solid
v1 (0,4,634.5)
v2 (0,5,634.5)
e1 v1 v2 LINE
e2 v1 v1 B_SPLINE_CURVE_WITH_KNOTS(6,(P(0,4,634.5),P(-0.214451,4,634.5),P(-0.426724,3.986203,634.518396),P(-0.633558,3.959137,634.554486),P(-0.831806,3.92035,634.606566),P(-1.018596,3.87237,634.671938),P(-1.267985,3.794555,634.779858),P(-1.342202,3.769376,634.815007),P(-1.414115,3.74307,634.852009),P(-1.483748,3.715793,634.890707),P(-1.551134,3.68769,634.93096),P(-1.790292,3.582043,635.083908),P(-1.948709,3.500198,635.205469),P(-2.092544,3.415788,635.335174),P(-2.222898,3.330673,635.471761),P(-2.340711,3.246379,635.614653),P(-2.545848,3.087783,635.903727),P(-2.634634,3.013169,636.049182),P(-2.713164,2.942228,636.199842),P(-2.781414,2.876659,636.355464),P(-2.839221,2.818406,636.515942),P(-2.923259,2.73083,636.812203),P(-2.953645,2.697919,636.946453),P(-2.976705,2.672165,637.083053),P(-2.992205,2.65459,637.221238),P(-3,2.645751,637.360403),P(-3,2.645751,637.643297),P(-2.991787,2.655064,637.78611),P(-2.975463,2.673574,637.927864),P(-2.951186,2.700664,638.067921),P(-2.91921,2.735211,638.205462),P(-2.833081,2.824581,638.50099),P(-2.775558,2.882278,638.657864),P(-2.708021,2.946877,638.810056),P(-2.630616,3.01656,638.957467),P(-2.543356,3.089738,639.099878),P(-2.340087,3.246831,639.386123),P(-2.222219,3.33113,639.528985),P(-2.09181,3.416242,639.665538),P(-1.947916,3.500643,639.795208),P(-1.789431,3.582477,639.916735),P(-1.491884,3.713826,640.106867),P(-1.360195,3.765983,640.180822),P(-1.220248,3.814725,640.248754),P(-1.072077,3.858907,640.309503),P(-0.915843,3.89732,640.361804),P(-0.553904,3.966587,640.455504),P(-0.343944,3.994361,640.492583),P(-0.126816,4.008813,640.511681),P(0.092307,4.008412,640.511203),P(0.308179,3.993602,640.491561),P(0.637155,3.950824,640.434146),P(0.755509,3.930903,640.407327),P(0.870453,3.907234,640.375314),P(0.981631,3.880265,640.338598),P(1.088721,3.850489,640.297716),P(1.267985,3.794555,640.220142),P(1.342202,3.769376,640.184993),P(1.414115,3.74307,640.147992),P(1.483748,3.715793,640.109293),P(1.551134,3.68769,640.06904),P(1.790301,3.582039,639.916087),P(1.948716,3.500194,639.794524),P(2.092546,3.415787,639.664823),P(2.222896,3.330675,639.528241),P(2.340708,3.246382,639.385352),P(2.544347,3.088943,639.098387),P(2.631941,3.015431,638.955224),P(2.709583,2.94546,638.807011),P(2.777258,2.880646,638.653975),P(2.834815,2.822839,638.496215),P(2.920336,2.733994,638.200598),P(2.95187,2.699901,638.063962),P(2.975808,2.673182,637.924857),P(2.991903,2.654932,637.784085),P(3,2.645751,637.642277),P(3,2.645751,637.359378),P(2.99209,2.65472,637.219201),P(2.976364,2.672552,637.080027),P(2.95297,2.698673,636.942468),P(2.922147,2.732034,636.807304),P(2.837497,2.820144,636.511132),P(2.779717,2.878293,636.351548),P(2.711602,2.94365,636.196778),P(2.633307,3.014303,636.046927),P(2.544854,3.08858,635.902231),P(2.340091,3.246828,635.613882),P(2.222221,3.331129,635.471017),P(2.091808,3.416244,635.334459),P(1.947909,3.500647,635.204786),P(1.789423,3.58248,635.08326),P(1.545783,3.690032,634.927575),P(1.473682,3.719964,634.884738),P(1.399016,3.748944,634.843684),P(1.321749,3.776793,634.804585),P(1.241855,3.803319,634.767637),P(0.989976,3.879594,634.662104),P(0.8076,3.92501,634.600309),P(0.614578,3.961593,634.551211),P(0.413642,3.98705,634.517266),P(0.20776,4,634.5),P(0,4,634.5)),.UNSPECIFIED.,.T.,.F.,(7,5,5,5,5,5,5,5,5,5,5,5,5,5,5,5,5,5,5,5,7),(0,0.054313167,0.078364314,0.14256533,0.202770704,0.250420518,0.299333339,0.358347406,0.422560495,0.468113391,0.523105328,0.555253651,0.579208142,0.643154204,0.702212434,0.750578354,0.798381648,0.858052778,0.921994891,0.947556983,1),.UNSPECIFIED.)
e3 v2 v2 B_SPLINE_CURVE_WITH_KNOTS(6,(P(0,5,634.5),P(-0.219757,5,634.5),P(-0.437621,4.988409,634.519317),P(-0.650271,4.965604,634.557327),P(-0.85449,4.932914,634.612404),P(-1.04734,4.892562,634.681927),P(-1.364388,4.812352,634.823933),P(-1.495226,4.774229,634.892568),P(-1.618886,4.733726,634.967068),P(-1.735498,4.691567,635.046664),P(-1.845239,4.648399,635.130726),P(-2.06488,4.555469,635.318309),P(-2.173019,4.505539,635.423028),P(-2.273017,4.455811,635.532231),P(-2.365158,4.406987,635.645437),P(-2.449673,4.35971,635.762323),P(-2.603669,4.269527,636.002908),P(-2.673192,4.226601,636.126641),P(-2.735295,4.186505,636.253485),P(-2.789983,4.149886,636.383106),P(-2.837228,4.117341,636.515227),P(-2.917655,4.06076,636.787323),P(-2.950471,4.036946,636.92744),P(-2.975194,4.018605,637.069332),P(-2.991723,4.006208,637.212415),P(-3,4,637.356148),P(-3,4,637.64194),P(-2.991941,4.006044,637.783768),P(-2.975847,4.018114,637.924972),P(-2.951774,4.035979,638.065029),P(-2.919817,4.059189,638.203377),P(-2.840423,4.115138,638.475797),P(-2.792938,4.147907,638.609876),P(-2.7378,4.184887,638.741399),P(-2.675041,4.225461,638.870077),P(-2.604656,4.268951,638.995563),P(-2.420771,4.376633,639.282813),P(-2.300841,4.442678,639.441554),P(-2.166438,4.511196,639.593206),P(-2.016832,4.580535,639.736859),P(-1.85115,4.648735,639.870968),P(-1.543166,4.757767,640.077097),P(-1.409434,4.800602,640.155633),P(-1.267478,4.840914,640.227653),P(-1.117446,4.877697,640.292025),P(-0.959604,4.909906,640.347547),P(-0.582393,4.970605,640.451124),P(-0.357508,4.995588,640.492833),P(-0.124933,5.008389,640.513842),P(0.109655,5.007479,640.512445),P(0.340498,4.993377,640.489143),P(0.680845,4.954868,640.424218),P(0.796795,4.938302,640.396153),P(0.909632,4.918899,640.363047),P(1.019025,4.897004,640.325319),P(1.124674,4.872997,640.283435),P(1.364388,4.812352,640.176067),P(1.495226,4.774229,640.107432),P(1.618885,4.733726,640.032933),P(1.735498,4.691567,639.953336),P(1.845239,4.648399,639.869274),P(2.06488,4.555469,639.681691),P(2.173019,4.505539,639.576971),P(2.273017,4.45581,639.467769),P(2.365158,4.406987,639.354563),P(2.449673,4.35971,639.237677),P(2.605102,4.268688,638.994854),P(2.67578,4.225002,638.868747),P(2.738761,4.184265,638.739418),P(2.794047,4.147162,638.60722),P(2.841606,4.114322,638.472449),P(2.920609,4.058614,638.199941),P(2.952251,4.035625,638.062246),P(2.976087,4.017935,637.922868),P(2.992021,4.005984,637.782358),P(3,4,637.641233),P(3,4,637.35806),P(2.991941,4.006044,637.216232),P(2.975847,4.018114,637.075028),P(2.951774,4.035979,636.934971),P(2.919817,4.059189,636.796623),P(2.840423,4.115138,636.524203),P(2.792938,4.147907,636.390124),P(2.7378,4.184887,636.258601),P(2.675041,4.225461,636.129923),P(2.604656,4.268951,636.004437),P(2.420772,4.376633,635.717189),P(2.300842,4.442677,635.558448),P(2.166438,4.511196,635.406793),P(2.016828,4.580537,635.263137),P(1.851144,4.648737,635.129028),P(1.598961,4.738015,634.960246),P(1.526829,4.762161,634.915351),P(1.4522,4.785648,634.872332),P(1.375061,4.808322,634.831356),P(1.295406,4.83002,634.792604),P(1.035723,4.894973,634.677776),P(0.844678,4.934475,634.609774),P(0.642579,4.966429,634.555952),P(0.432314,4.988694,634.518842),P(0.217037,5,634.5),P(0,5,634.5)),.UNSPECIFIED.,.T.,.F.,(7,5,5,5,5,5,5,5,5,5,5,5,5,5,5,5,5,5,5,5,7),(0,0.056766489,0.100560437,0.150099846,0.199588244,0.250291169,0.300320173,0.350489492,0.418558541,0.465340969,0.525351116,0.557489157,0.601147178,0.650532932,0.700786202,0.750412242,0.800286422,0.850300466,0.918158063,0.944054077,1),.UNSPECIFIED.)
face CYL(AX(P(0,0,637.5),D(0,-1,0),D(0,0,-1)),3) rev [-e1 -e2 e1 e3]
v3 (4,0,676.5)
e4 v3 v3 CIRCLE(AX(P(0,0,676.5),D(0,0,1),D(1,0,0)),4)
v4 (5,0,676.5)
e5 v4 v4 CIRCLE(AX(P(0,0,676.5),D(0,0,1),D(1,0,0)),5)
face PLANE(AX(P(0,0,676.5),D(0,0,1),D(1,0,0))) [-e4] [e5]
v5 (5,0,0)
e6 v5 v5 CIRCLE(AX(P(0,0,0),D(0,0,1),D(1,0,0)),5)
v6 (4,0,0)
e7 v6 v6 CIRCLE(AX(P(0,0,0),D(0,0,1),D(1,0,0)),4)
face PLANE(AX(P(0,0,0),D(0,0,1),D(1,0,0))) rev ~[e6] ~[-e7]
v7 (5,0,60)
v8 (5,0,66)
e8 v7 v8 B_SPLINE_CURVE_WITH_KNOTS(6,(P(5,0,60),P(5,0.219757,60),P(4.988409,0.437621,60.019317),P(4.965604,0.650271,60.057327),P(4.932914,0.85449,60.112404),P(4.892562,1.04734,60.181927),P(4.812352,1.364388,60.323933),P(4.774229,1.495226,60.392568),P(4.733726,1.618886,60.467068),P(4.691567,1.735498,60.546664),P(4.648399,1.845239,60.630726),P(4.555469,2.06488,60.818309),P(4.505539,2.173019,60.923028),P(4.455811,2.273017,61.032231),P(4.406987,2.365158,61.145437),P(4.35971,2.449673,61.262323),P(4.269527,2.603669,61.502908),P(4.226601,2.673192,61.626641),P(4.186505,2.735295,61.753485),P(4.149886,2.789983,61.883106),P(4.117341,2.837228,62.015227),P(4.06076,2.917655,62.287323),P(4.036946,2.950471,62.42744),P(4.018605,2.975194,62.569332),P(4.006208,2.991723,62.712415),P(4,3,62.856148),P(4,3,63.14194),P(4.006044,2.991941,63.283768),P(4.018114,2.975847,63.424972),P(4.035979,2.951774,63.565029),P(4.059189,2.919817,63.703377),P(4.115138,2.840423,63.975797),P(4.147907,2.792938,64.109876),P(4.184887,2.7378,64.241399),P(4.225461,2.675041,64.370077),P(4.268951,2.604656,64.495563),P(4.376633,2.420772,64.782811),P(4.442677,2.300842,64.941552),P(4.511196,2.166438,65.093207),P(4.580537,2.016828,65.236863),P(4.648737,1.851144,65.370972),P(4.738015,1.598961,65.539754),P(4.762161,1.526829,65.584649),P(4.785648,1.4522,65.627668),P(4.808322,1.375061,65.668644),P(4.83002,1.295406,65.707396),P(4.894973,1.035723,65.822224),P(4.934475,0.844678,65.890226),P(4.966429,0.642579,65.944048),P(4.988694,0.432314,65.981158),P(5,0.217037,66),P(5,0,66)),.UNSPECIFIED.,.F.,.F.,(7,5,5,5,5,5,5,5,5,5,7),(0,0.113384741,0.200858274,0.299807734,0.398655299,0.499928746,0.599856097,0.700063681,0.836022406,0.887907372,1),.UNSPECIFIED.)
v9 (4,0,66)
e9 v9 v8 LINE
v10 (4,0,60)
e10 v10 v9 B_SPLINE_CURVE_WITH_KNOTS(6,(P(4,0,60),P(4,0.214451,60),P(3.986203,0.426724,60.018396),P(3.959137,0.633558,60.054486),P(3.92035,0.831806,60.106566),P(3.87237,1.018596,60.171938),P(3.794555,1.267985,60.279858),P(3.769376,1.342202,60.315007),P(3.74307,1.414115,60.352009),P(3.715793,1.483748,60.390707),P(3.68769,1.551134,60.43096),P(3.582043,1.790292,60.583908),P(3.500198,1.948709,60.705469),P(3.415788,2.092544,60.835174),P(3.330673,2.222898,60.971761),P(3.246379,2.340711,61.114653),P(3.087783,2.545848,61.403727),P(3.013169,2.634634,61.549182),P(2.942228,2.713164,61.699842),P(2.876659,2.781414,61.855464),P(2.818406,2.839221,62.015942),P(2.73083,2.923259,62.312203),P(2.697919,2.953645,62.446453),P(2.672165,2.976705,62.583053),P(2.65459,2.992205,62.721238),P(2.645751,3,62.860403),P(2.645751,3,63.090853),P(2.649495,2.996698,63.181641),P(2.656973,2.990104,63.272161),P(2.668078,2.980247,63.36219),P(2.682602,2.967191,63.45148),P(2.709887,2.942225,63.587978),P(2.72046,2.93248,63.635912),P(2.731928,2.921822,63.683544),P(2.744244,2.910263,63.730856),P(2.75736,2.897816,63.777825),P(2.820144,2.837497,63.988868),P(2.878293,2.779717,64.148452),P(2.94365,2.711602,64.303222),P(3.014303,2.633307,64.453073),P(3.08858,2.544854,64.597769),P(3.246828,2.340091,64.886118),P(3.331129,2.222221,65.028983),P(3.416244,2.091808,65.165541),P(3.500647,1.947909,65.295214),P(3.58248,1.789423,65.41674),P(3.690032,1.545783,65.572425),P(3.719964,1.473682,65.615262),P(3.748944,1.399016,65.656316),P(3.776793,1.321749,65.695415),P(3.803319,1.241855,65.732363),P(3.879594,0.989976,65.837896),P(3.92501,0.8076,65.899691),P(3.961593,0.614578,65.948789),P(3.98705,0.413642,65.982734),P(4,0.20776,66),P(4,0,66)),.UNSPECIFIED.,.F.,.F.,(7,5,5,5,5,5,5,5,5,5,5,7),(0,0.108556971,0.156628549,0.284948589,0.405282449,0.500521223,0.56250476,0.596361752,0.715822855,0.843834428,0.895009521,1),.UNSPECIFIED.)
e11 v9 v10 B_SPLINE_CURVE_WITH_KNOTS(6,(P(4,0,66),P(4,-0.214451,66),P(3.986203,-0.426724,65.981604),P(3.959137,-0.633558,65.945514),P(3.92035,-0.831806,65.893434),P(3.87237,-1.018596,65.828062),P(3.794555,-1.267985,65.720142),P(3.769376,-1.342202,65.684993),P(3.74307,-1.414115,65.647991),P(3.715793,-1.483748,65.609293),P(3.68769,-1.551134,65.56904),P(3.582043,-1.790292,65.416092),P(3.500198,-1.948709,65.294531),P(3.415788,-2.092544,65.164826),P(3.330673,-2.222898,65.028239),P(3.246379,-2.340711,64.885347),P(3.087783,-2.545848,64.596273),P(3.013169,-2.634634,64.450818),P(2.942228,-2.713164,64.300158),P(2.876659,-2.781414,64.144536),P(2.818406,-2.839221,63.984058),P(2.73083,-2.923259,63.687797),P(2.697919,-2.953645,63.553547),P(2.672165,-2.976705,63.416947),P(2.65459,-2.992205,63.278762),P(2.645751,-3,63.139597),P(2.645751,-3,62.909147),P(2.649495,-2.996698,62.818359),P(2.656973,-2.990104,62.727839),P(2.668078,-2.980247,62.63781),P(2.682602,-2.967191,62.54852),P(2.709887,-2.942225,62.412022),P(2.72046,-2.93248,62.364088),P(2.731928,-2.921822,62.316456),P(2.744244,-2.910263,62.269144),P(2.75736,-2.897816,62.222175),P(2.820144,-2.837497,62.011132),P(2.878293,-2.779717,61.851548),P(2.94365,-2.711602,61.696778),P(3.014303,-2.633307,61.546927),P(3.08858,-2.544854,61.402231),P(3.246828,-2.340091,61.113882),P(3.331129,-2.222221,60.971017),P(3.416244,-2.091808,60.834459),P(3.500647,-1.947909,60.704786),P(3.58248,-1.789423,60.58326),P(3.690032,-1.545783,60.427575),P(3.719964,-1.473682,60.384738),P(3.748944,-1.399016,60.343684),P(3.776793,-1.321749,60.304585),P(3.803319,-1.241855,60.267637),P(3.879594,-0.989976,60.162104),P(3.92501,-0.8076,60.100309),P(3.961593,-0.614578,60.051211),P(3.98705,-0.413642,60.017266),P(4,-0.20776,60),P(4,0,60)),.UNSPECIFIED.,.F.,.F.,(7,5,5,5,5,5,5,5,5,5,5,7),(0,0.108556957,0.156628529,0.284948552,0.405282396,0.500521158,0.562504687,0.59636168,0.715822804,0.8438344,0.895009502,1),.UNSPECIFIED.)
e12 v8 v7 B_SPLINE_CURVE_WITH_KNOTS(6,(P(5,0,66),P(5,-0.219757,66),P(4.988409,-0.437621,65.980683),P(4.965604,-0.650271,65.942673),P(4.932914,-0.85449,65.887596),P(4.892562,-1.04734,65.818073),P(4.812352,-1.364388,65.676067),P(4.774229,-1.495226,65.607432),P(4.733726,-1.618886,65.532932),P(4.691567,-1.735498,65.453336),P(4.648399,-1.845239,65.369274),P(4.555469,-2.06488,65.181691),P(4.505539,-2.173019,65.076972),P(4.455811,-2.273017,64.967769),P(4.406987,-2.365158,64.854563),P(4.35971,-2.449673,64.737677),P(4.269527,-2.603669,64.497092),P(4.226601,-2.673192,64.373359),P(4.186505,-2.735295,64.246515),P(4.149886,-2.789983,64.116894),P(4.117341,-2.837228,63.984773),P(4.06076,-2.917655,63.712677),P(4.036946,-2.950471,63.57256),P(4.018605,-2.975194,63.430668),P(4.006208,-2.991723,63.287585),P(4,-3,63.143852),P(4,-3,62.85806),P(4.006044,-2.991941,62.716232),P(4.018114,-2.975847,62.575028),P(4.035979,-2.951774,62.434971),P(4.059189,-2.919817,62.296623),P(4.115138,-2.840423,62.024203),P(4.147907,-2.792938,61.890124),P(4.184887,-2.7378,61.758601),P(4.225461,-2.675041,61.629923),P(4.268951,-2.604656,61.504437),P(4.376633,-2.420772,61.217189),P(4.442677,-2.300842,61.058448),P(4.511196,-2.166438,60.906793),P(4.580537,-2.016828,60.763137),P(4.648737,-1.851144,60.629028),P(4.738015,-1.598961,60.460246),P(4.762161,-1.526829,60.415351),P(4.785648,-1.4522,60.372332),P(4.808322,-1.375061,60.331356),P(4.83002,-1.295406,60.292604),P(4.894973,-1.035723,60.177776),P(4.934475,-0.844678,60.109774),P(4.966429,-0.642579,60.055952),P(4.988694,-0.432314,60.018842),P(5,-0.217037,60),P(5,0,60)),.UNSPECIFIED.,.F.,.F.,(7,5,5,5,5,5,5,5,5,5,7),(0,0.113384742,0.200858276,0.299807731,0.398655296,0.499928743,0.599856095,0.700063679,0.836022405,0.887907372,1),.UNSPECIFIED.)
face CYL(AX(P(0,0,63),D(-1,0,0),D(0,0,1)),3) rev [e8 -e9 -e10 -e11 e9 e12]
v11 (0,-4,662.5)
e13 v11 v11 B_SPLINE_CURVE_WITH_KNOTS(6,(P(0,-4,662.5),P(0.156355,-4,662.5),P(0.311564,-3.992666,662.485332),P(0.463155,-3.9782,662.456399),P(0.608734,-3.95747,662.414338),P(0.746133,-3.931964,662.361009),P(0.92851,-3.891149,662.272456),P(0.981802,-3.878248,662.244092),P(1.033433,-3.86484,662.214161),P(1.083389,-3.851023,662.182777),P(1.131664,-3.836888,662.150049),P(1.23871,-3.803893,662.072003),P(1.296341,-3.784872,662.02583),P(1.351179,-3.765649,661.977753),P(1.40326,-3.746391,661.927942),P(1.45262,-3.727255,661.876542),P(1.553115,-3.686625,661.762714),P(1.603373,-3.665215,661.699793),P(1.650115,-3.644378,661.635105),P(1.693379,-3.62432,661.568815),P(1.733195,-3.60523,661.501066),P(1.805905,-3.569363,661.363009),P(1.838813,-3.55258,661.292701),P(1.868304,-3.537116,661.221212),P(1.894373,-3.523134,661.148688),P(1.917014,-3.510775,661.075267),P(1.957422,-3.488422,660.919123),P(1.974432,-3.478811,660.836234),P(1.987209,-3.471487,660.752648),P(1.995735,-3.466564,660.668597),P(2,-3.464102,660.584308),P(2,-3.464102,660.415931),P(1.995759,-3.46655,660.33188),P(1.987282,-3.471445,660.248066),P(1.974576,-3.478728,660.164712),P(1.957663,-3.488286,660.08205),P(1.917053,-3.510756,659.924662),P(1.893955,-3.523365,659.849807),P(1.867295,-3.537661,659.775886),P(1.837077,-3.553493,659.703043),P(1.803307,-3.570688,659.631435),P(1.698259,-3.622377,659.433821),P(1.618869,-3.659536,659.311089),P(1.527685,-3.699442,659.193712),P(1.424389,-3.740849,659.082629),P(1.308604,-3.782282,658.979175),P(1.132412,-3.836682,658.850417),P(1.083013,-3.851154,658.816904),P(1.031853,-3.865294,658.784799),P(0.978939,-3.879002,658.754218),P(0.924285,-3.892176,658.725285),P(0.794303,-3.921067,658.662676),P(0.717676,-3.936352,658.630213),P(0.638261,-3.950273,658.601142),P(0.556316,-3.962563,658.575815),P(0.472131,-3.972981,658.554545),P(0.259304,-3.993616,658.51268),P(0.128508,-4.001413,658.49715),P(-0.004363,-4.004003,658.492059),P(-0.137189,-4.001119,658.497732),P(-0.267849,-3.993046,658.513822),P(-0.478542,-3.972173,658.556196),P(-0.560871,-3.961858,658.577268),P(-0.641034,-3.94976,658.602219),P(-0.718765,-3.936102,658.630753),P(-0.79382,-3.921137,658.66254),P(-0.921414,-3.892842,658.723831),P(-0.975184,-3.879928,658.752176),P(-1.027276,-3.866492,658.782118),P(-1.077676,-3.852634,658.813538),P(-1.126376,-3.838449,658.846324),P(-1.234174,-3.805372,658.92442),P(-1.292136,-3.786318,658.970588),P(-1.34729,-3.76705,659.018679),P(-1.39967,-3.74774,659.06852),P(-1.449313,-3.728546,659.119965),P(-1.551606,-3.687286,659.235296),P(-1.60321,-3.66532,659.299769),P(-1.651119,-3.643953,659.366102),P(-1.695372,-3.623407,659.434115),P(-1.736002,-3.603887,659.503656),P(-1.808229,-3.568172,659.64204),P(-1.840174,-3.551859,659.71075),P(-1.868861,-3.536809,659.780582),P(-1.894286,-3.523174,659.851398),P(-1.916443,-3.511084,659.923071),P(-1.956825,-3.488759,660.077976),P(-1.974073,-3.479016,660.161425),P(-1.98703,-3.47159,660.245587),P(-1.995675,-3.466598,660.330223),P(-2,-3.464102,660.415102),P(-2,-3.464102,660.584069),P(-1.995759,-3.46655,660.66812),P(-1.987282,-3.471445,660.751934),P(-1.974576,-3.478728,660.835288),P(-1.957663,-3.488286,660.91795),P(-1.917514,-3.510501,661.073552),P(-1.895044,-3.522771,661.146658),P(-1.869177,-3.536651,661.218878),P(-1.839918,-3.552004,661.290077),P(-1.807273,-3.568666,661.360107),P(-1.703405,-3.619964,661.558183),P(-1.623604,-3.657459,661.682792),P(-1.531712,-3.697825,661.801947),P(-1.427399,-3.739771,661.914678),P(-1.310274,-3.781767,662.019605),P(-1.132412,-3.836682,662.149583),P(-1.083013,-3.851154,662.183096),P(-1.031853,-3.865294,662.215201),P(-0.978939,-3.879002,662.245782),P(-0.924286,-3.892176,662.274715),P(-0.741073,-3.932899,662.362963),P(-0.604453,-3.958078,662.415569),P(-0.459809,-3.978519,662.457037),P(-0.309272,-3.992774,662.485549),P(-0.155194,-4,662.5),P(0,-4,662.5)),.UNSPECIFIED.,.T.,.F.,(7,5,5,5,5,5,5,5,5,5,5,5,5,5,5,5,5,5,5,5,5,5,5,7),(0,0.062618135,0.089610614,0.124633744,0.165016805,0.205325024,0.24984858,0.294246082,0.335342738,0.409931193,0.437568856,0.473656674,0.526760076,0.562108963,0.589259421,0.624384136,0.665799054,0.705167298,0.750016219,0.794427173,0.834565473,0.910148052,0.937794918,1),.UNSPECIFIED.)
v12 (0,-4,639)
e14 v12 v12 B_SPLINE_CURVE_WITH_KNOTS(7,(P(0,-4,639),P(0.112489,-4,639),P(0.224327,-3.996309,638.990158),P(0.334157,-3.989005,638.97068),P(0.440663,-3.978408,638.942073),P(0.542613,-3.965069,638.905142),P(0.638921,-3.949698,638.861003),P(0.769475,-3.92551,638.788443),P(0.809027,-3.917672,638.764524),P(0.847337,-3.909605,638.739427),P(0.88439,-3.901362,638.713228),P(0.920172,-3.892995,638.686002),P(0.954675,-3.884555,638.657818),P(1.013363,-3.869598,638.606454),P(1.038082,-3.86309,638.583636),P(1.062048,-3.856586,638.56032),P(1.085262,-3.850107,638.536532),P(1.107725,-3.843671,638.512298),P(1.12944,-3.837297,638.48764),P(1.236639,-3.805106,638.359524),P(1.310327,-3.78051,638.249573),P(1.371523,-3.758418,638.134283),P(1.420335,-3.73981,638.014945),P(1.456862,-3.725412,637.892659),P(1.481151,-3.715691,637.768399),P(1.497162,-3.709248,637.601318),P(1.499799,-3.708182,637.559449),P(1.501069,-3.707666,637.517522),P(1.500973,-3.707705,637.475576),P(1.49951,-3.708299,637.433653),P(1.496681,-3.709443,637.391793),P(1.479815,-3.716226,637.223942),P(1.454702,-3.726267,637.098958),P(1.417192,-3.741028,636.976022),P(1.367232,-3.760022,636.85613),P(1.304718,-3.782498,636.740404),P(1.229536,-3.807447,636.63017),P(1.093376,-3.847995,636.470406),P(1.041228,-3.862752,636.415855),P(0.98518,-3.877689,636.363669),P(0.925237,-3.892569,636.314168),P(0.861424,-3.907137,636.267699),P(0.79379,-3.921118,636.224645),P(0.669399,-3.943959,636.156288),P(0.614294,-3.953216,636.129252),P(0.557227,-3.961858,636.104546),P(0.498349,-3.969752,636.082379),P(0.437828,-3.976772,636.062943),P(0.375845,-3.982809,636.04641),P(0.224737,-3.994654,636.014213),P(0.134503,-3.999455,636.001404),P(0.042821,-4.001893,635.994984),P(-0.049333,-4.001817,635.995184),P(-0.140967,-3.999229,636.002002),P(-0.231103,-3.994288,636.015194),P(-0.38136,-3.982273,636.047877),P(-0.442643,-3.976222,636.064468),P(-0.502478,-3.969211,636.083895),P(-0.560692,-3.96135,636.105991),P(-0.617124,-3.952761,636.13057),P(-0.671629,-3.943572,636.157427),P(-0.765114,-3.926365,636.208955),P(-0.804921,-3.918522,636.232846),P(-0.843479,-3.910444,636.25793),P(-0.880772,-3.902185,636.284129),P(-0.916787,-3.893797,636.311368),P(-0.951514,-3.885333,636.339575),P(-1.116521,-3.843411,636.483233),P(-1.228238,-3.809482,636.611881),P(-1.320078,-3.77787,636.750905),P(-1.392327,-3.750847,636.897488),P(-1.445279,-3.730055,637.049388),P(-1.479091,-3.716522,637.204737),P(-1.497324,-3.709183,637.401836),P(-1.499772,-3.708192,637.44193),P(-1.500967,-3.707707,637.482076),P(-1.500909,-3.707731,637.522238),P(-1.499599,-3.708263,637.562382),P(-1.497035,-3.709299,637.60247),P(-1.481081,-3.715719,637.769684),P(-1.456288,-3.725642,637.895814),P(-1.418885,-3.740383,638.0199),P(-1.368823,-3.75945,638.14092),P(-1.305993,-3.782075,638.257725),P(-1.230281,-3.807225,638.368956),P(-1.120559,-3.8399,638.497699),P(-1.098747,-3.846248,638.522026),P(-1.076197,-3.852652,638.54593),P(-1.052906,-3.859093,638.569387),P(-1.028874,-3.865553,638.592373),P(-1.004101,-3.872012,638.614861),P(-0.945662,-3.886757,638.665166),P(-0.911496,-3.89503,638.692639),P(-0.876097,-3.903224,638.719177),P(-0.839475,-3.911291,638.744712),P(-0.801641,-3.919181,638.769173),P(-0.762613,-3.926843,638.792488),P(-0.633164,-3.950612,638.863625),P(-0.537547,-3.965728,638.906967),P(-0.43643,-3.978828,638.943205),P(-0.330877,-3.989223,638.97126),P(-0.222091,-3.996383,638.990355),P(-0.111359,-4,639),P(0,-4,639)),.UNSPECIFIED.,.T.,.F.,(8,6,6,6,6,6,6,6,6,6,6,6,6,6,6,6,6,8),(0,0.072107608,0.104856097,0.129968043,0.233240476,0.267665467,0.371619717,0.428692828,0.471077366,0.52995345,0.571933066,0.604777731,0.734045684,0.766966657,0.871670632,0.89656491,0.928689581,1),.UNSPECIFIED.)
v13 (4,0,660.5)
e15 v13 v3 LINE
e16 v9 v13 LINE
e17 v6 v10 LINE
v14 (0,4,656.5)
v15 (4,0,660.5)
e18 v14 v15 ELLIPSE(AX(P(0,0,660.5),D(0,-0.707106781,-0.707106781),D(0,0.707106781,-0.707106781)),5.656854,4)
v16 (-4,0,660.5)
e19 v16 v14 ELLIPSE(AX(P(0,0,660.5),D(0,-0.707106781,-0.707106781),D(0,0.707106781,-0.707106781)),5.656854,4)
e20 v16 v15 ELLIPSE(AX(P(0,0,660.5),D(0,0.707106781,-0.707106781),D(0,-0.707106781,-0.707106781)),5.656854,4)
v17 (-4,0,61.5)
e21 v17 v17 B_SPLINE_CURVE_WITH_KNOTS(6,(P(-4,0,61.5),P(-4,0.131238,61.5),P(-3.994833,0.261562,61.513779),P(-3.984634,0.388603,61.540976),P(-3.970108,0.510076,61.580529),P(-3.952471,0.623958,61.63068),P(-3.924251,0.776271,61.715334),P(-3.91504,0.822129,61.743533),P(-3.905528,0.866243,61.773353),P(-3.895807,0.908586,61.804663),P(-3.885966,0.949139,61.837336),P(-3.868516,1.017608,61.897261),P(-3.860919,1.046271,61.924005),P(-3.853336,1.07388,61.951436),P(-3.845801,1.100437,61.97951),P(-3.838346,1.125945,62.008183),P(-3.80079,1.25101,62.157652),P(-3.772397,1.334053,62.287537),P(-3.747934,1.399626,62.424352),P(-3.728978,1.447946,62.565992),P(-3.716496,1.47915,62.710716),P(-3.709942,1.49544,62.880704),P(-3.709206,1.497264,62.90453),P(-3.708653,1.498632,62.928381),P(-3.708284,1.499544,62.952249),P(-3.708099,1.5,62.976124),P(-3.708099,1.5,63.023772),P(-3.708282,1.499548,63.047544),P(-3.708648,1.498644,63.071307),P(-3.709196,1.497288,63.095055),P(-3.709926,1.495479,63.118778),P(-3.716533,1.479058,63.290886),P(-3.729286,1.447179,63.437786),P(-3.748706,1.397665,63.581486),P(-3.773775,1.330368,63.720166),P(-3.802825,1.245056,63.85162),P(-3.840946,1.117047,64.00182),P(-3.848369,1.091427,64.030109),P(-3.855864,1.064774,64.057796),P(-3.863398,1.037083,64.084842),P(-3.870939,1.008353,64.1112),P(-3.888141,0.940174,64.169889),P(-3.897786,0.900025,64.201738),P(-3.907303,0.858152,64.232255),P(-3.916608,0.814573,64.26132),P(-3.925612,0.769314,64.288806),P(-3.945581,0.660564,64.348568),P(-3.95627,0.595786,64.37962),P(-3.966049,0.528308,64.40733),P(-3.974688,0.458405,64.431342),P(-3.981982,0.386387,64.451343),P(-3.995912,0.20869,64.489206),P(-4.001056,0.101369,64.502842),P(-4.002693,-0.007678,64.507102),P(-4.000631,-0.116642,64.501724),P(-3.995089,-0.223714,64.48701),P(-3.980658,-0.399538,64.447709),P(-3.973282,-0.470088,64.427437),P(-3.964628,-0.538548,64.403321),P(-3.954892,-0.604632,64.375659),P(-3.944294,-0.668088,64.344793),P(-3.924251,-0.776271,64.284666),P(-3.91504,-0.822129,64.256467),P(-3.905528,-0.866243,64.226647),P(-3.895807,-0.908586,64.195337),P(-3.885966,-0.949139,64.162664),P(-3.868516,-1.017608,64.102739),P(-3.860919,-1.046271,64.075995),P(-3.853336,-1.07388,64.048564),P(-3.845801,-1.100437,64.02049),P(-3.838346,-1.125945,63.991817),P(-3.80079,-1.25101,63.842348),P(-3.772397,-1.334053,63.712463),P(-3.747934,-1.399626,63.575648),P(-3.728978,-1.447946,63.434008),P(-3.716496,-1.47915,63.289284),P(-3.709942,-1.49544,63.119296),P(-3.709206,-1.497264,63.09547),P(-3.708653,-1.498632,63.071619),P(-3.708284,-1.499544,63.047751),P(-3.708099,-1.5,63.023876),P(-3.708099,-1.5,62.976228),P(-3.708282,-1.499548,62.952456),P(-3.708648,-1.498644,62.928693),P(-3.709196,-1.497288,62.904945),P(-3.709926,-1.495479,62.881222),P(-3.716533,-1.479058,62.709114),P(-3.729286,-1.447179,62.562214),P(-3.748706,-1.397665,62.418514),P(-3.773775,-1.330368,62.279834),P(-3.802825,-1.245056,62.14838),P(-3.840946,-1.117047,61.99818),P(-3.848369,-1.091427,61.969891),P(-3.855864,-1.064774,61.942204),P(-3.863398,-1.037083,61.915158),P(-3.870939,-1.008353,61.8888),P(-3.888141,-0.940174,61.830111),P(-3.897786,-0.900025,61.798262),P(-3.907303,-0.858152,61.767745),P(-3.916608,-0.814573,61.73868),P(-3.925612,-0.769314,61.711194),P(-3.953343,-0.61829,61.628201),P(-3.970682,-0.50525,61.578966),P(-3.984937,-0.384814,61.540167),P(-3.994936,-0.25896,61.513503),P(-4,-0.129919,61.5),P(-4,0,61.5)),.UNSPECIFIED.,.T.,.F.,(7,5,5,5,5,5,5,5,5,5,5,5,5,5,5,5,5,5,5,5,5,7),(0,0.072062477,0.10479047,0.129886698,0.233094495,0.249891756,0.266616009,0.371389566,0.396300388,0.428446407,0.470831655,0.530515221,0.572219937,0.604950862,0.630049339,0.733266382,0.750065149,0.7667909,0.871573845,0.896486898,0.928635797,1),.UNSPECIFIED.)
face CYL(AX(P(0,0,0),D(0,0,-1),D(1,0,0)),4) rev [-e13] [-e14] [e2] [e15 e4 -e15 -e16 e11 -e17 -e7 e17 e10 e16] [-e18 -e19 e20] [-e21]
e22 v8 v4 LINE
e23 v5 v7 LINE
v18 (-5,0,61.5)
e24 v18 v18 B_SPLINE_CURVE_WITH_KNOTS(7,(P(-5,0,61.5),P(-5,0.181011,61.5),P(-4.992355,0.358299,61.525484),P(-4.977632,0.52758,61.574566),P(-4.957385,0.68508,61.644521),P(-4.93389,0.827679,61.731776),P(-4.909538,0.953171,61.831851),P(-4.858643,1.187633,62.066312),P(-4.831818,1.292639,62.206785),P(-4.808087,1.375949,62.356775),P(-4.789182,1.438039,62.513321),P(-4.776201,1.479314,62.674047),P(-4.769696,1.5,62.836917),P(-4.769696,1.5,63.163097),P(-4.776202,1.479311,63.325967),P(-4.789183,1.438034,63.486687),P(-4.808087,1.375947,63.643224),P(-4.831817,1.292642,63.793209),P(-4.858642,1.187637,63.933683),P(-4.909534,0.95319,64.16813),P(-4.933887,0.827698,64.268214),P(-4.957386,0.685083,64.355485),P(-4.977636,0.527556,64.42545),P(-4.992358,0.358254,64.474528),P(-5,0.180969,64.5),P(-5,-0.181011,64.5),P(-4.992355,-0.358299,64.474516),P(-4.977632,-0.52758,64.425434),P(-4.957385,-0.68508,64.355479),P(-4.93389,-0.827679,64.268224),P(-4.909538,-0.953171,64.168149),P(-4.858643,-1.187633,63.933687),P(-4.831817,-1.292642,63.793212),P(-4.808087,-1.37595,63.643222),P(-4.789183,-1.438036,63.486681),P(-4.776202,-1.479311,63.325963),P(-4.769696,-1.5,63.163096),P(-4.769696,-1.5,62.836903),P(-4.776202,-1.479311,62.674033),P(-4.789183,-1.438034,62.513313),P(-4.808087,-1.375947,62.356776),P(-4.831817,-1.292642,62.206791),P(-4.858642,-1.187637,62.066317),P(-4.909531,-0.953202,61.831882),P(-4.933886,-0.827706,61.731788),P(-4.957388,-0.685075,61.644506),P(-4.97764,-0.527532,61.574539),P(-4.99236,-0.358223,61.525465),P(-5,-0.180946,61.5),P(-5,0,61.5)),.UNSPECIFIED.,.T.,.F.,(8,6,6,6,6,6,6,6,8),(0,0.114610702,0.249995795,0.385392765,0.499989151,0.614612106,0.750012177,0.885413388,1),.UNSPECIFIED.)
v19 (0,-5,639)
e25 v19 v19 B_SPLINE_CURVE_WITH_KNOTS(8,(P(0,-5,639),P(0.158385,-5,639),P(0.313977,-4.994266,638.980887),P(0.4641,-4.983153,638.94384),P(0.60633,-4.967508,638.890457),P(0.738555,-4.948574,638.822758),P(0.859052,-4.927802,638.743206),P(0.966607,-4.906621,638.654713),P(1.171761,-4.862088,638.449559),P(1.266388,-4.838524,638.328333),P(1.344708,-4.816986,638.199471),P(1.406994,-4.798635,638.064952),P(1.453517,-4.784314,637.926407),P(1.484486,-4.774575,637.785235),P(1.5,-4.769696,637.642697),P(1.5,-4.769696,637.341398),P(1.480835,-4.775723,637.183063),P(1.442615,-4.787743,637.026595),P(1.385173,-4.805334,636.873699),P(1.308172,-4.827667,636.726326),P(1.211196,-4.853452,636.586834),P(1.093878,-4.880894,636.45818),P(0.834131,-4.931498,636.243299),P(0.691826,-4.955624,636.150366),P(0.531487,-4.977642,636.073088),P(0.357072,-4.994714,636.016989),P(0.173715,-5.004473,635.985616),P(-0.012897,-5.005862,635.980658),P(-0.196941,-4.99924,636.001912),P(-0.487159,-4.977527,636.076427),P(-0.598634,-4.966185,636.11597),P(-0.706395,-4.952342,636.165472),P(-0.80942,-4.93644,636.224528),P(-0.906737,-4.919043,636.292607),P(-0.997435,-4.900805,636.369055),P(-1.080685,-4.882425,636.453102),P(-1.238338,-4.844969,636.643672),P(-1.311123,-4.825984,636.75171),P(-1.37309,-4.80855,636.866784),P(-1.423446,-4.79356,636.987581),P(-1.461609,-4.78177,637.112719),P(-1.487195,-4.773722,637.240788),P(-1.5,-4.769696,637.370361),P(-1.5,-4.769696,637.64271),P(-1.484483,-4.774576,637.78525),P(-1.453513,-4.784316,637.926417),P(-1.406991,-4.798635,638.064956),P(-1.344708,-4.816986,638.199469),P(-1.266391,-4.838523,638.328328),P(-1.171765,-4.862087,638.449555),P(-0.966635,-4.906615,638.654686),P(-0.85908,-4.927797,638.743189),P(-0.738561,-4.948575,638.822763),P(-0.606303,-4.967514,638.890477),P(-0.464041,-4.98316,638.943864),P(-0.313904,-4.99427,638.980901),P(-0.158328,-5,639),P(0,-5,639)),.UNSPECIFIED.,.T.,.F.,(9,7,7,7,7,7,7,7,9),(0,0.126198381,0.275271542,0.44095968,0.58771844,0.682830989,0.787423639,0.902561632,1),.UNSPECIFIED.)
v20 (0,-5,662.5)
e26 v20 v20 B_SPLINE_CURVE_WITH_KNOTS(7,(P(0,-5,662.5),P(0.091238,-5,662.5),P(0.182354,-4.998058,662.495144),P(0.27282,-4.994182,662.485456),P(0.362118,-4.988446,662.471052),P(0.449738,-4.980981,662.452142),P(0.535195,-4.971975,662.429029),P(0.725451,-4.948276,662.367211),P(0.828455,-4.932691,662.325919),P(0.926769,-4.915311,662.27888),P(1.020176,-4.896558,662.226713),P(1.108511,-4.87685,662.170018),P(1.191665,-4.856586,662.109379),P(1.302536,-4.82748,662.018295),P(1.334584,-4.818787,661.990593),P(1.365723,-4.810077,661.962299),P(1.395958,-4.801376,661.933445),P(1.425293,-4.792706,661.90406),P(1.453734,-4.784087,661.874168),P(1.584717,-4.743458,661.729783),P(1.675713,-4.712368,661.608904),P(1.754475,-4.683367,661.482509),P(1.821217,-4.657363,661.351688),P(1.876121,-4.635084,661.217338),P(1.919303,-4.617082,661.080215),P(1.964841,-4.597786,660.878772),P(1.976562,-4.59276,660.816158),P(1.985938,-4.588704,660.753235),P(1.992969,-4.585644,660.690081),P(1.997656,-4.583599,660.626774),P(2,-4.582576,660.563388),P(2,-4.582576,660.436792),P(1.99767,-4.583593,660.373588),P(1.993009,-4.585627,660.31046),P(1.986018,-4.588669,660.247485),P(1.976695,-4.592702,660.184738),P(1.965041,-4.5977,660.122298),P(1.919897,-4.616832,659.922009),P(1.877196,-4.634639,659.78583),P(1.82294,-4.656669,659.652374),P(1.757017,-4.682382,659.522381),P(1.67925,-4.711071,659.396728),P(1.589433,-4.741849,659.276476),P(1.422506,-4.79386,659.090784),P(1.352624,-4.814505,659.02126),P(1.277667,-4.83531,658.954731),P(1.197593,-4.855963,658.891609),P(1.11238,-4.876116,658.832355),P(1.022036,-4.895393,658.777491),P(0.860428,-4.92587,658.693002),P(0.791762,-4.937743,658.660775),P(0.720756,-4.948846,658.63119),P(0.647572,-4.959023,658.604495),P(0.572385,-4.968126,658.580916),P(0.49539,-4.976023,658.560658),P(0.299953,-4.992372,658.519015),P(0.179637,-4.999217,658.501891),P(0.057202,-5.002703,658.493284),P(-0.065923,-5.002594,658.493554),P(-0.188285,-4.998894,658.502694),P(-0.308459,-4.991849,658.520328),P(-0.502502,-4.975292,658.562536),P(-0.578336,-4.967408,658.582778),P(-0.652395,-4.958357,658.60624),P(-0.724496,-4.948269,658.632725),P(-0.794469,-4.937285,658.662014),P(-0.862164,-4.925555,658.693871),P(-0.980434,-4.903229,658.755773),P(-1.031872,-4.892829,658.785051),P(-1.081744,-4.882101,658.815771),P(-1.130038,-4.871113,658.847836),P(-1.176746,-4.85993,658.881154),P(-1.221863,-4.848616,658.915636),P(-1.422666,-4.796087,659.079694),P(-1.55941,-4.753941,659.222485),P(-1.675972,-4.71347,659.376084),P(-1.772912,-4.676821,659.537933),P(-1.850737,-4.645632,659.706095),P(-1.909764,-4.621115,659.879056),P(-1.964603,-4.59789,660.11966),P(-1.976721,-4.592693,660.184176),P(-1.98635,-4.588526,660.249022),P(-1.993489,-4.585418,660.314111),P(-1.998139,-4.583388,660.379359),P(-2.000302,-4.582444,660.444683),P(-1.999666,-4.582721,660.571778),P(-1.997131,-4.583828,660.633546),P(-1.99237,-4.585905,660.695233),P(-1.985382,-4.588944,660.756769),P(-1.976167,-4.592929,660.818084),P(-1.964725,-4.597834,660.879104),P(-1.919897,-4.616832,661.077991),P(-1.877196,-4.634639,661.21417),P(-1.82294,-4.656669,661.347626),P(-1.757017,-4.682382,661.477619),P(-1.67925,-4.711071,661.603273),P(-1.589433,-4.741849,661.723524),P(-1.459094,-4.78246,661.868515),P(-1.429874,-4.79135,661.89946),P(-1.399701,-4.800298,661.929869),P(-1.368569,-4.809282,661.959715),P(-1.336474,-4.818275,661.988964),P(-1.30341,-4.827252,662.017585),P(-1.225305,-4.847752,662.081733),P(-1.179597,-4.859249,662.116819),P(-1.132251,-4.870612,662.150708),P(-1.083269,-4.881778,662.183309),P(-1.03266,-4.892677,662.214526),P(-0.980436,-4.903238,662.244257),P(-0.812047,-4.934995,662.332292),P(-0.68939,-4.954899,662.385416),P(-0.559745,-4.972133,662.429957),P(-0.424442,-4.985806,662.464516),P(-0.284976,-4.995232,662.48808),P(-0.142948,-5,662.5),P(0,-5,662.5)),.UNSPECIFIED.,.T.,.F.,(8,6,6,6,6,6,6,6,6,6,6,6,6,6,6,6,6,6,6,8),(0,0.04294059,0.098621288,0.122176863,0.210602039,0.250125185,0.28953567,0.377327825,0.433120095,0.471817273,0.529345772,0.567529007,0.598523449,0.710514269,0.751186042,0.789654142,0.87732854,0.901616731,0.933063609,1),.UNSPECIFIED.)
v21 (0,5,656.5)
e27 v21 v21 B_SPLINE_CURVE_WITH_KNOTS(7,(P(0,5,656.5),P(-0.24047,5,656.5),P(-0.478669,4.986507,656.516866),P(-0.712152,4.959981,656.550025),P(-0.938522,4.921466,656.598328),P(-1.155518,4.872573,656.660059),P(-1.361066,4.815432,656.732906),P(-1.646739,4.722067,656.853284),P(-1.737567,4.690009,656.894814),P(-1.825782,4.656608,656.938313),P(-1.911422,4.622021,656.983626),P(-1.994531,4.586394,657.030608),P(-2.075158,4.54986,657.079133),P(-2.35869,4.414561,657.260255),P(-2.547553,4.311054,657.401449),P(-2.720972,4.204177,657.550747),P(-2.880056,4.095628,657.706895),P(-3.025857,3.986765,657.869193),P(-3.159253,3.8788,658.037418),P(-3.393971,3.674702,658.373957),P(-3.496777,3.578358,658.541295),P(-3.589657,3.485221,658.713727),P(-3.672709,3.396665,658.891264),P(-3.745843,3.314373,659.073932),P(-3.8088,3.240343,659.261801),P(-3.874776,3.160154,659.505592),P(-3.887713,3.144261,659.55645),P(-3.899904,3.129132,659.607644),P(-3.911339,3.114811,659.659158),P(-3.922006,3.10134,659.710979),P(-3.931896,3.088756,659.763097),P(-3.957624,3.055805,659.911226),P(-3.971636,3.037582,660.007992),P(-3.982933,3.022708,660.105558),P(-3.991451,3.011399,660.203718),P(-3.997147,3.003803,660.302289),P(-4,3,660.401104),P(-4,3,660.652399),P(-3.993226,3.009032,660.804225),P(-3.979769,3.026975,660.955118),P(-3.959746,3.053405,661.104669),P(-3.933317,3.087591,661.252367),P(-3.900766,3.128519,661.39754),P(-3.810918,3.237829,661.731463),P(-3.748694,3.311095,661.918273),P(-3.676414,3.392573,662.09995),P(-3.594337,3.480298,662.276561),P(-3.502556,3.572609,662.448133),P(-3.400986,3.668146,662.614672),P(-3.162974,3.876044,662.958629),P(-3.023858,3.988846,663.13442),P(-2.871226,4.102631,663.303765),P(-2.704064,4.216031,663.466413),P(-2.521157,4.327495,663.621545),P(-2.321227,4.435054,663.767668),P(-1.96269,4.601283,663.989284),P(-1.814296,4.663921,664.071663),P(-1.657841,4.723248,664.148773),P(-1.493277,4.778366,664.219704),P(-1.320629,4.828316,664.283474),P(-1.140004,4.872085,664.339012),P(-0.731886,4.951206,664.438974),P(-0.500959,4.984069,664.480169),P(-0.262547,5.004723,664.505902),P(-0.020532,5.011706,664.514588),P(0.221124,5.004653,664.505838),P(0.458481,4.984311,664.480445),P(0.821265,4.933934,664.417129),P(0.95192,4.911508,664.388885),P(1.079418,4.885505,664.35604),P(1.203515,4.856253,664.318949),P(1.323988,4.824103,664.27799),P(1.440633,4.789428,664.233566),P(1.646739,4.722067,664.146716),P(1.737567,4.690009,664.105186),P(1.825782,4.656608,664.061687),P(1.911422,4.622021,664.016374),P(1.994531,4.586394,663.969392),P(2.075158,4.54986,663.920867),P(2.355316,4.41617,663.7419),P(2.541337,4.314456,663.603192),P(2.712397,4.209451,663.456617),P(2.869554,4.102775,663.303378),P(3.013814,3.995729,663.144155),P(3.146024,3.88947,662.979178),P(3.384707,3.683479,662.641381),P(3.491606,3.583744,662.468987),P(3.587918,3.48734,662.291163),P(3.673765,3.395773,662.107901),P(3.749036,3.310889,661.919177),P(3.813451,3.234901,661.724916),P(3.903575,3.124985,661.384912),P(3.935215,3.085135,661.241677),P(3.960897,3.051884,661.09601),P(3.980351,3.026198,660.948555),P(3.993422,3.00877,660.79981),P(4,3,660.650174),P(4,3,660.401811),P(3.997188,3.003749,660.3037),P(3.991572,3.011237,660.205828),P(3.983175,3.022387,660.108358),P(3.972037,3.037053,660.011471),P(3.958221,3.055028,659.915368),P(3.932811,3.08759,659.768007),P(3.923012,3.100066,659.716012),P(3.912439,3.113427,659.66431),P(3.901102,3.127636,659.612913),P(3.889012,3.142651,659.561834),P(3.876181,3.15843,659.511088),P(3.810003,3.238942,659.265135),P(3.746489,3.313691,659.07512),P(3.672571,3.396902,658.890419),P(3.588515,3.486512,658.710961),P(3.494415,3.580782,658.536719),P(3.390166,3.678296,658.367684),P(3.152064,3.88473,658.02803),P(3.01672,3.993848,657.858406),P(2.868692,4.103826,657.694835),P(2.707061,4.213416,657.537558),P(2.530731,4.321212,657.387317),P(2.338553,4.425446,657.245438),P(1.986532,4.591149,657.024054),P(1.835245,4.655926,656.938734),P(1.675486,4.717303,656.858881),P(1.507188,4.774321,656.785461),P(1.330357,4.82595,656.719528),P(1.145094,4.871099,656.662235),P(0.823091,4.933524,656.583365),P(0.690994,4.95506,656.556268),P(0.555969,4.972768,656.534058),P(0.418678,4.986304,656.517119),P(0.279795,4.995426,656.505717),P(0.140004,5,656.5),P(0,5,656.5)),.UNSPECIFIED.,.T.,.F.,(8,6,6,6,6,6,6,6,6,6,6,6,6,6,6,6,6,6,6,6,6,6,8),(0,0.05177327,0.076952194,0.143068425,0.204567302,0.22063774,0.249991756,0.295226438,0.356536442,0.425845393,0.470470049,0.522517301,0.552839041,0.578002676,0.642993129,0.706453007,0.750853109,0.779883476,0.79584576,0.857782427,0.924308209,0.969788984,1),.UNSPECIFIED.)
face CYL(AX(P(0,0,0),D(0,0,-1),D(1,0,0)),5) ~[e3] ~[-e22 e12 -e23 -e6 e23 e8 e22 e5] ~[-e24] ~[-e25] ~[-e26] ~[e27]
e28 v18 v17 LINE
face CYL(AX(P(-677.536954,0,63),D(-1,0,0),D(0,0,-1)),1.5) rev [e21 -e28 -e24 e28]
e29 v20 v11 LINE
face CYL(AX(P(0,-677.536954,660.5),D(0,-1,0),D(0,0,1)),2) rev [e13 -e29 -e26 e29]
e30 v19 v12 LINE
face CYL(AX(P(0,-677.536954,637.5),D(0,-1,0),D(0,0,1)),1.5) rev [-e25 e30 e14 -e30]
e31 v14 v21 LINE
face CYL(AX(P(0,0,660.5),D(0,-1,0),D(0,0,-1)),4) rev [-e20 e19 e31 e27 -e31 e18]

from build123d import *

# Parameters (mm, degrees)
SKETCH_1_R               = 5
SKETCH_1_R_2             = 4
EXTRUDE_1_DEPTH          = 676.5
CUT_EXTRUDE_1_DEPTH      = 677.536953906
CUT_EXTRUDE_1_DEPTH_BACK = 677.536953906
SKETCH_2_R               = 2
SKETCH_2_R_2             = 1.5
SKETCH_2_3_R             = 4
SKETCH_2_3_R_2           = 3
CUT_EXTRUDE_2_DEPTH      = 677.536954007
CUT_EXTRUDE_3_DEPTH      = 677.536954007
CUT_EXTRUDE_3_DEPTH_BACK = 677.536954007
SKETCH_3_R               = 1.5
SKETCH_3_3_R             = 3
CUT_EXTRUDE_4_DEPTH      = 10


with BuildPart() as part:
    # ｽｹｯﾁ1 → 押し出し-薄板1 (new body)
    with BuildSketch(Plane.XY):
        Circle(SKETCH_1_R)
        Circle(SKETCH_1_R_2, mode=Mode.SUBTRACT)
    extrude(amount=EXTRUDE_1_DEPTH)

    # ｽｹｯﾁ2 → ｶｯﾄ - 押し出し1 (cut, two sides: drawn at the far end of the back side and taken through both)
    with BuildSketch(Plane(origin=(0, 0, 0), x_dir=(1, 0, 0), z_dir=(0, 1, 0)).offset(-CUT_EXTRUDE_1_DEPTH_BACK)):
        with Locations((0, -660.5)):
            Circle(SKETCH_2_R)
        with Locations((0, -637.5)):
            Circle(SKETCH_2_R_2)
    extrude(amount=CUT_EXTRUDE_1_DEPTH + CUT_EXTRUDE_1_DEPTH_BACK, mode=Mode.SUBTRACT)

    # ｽｹｯﾁ2<3> → ｶｯﾄ - 押し出し2 (cut, through all)
    with BuildSketch(Plane(origin=(0, 0, 0), x_dir=(1, 0, 0), z_dir=(0, 1, 0))):
        with Locations((0, -660.5)):
            Circle(SKETCH_2_3_R)
        with Locations((0, -637.5)):
            Circle(SKETCH_2_3_R_2)
    extrude(amount=CUT_EXTRUDE_2_DEPTH, mode=Mode.SUBTRACT)

    # ｽｹｯﾁ3 → ｶｯﾄ - 押し出し3 (cut, two sides: drawn at the far end of the back side and taken through both)
    with BuildSketch(Plane(origin=(0, 0, 0), x_dir=(0, 0, -1), z_dir=(1, 0, 0)).offset(-CUT_EXTRUDE_3_DEPTH_BACK)):
        with Locations((-63, 0)):
            Circle(SKETCH_3_R)
    extrude(amount=CUT_EXTRUDE_3_DEPTH + CUT_EXTRUDE_3_DEPTH_BACK, mode=Mode.SUBTRACT)

    # ｽｹｯﾁ3<3> → ｶｯﾄ - 押し出し4 (cut)
    with BuildSketch(Plane(origin=(0, 0, 0), x_dir=(0, 0, -1), z_dir=(1, 0, 0))):
        with Locations((-63, 0)):
            Circle(SKETCH_3_3_R)
    extrude(amount=CUT_EXTRUDE_4_DEPTH, mode=Mode.SUBTRACT)


solid = part.part
